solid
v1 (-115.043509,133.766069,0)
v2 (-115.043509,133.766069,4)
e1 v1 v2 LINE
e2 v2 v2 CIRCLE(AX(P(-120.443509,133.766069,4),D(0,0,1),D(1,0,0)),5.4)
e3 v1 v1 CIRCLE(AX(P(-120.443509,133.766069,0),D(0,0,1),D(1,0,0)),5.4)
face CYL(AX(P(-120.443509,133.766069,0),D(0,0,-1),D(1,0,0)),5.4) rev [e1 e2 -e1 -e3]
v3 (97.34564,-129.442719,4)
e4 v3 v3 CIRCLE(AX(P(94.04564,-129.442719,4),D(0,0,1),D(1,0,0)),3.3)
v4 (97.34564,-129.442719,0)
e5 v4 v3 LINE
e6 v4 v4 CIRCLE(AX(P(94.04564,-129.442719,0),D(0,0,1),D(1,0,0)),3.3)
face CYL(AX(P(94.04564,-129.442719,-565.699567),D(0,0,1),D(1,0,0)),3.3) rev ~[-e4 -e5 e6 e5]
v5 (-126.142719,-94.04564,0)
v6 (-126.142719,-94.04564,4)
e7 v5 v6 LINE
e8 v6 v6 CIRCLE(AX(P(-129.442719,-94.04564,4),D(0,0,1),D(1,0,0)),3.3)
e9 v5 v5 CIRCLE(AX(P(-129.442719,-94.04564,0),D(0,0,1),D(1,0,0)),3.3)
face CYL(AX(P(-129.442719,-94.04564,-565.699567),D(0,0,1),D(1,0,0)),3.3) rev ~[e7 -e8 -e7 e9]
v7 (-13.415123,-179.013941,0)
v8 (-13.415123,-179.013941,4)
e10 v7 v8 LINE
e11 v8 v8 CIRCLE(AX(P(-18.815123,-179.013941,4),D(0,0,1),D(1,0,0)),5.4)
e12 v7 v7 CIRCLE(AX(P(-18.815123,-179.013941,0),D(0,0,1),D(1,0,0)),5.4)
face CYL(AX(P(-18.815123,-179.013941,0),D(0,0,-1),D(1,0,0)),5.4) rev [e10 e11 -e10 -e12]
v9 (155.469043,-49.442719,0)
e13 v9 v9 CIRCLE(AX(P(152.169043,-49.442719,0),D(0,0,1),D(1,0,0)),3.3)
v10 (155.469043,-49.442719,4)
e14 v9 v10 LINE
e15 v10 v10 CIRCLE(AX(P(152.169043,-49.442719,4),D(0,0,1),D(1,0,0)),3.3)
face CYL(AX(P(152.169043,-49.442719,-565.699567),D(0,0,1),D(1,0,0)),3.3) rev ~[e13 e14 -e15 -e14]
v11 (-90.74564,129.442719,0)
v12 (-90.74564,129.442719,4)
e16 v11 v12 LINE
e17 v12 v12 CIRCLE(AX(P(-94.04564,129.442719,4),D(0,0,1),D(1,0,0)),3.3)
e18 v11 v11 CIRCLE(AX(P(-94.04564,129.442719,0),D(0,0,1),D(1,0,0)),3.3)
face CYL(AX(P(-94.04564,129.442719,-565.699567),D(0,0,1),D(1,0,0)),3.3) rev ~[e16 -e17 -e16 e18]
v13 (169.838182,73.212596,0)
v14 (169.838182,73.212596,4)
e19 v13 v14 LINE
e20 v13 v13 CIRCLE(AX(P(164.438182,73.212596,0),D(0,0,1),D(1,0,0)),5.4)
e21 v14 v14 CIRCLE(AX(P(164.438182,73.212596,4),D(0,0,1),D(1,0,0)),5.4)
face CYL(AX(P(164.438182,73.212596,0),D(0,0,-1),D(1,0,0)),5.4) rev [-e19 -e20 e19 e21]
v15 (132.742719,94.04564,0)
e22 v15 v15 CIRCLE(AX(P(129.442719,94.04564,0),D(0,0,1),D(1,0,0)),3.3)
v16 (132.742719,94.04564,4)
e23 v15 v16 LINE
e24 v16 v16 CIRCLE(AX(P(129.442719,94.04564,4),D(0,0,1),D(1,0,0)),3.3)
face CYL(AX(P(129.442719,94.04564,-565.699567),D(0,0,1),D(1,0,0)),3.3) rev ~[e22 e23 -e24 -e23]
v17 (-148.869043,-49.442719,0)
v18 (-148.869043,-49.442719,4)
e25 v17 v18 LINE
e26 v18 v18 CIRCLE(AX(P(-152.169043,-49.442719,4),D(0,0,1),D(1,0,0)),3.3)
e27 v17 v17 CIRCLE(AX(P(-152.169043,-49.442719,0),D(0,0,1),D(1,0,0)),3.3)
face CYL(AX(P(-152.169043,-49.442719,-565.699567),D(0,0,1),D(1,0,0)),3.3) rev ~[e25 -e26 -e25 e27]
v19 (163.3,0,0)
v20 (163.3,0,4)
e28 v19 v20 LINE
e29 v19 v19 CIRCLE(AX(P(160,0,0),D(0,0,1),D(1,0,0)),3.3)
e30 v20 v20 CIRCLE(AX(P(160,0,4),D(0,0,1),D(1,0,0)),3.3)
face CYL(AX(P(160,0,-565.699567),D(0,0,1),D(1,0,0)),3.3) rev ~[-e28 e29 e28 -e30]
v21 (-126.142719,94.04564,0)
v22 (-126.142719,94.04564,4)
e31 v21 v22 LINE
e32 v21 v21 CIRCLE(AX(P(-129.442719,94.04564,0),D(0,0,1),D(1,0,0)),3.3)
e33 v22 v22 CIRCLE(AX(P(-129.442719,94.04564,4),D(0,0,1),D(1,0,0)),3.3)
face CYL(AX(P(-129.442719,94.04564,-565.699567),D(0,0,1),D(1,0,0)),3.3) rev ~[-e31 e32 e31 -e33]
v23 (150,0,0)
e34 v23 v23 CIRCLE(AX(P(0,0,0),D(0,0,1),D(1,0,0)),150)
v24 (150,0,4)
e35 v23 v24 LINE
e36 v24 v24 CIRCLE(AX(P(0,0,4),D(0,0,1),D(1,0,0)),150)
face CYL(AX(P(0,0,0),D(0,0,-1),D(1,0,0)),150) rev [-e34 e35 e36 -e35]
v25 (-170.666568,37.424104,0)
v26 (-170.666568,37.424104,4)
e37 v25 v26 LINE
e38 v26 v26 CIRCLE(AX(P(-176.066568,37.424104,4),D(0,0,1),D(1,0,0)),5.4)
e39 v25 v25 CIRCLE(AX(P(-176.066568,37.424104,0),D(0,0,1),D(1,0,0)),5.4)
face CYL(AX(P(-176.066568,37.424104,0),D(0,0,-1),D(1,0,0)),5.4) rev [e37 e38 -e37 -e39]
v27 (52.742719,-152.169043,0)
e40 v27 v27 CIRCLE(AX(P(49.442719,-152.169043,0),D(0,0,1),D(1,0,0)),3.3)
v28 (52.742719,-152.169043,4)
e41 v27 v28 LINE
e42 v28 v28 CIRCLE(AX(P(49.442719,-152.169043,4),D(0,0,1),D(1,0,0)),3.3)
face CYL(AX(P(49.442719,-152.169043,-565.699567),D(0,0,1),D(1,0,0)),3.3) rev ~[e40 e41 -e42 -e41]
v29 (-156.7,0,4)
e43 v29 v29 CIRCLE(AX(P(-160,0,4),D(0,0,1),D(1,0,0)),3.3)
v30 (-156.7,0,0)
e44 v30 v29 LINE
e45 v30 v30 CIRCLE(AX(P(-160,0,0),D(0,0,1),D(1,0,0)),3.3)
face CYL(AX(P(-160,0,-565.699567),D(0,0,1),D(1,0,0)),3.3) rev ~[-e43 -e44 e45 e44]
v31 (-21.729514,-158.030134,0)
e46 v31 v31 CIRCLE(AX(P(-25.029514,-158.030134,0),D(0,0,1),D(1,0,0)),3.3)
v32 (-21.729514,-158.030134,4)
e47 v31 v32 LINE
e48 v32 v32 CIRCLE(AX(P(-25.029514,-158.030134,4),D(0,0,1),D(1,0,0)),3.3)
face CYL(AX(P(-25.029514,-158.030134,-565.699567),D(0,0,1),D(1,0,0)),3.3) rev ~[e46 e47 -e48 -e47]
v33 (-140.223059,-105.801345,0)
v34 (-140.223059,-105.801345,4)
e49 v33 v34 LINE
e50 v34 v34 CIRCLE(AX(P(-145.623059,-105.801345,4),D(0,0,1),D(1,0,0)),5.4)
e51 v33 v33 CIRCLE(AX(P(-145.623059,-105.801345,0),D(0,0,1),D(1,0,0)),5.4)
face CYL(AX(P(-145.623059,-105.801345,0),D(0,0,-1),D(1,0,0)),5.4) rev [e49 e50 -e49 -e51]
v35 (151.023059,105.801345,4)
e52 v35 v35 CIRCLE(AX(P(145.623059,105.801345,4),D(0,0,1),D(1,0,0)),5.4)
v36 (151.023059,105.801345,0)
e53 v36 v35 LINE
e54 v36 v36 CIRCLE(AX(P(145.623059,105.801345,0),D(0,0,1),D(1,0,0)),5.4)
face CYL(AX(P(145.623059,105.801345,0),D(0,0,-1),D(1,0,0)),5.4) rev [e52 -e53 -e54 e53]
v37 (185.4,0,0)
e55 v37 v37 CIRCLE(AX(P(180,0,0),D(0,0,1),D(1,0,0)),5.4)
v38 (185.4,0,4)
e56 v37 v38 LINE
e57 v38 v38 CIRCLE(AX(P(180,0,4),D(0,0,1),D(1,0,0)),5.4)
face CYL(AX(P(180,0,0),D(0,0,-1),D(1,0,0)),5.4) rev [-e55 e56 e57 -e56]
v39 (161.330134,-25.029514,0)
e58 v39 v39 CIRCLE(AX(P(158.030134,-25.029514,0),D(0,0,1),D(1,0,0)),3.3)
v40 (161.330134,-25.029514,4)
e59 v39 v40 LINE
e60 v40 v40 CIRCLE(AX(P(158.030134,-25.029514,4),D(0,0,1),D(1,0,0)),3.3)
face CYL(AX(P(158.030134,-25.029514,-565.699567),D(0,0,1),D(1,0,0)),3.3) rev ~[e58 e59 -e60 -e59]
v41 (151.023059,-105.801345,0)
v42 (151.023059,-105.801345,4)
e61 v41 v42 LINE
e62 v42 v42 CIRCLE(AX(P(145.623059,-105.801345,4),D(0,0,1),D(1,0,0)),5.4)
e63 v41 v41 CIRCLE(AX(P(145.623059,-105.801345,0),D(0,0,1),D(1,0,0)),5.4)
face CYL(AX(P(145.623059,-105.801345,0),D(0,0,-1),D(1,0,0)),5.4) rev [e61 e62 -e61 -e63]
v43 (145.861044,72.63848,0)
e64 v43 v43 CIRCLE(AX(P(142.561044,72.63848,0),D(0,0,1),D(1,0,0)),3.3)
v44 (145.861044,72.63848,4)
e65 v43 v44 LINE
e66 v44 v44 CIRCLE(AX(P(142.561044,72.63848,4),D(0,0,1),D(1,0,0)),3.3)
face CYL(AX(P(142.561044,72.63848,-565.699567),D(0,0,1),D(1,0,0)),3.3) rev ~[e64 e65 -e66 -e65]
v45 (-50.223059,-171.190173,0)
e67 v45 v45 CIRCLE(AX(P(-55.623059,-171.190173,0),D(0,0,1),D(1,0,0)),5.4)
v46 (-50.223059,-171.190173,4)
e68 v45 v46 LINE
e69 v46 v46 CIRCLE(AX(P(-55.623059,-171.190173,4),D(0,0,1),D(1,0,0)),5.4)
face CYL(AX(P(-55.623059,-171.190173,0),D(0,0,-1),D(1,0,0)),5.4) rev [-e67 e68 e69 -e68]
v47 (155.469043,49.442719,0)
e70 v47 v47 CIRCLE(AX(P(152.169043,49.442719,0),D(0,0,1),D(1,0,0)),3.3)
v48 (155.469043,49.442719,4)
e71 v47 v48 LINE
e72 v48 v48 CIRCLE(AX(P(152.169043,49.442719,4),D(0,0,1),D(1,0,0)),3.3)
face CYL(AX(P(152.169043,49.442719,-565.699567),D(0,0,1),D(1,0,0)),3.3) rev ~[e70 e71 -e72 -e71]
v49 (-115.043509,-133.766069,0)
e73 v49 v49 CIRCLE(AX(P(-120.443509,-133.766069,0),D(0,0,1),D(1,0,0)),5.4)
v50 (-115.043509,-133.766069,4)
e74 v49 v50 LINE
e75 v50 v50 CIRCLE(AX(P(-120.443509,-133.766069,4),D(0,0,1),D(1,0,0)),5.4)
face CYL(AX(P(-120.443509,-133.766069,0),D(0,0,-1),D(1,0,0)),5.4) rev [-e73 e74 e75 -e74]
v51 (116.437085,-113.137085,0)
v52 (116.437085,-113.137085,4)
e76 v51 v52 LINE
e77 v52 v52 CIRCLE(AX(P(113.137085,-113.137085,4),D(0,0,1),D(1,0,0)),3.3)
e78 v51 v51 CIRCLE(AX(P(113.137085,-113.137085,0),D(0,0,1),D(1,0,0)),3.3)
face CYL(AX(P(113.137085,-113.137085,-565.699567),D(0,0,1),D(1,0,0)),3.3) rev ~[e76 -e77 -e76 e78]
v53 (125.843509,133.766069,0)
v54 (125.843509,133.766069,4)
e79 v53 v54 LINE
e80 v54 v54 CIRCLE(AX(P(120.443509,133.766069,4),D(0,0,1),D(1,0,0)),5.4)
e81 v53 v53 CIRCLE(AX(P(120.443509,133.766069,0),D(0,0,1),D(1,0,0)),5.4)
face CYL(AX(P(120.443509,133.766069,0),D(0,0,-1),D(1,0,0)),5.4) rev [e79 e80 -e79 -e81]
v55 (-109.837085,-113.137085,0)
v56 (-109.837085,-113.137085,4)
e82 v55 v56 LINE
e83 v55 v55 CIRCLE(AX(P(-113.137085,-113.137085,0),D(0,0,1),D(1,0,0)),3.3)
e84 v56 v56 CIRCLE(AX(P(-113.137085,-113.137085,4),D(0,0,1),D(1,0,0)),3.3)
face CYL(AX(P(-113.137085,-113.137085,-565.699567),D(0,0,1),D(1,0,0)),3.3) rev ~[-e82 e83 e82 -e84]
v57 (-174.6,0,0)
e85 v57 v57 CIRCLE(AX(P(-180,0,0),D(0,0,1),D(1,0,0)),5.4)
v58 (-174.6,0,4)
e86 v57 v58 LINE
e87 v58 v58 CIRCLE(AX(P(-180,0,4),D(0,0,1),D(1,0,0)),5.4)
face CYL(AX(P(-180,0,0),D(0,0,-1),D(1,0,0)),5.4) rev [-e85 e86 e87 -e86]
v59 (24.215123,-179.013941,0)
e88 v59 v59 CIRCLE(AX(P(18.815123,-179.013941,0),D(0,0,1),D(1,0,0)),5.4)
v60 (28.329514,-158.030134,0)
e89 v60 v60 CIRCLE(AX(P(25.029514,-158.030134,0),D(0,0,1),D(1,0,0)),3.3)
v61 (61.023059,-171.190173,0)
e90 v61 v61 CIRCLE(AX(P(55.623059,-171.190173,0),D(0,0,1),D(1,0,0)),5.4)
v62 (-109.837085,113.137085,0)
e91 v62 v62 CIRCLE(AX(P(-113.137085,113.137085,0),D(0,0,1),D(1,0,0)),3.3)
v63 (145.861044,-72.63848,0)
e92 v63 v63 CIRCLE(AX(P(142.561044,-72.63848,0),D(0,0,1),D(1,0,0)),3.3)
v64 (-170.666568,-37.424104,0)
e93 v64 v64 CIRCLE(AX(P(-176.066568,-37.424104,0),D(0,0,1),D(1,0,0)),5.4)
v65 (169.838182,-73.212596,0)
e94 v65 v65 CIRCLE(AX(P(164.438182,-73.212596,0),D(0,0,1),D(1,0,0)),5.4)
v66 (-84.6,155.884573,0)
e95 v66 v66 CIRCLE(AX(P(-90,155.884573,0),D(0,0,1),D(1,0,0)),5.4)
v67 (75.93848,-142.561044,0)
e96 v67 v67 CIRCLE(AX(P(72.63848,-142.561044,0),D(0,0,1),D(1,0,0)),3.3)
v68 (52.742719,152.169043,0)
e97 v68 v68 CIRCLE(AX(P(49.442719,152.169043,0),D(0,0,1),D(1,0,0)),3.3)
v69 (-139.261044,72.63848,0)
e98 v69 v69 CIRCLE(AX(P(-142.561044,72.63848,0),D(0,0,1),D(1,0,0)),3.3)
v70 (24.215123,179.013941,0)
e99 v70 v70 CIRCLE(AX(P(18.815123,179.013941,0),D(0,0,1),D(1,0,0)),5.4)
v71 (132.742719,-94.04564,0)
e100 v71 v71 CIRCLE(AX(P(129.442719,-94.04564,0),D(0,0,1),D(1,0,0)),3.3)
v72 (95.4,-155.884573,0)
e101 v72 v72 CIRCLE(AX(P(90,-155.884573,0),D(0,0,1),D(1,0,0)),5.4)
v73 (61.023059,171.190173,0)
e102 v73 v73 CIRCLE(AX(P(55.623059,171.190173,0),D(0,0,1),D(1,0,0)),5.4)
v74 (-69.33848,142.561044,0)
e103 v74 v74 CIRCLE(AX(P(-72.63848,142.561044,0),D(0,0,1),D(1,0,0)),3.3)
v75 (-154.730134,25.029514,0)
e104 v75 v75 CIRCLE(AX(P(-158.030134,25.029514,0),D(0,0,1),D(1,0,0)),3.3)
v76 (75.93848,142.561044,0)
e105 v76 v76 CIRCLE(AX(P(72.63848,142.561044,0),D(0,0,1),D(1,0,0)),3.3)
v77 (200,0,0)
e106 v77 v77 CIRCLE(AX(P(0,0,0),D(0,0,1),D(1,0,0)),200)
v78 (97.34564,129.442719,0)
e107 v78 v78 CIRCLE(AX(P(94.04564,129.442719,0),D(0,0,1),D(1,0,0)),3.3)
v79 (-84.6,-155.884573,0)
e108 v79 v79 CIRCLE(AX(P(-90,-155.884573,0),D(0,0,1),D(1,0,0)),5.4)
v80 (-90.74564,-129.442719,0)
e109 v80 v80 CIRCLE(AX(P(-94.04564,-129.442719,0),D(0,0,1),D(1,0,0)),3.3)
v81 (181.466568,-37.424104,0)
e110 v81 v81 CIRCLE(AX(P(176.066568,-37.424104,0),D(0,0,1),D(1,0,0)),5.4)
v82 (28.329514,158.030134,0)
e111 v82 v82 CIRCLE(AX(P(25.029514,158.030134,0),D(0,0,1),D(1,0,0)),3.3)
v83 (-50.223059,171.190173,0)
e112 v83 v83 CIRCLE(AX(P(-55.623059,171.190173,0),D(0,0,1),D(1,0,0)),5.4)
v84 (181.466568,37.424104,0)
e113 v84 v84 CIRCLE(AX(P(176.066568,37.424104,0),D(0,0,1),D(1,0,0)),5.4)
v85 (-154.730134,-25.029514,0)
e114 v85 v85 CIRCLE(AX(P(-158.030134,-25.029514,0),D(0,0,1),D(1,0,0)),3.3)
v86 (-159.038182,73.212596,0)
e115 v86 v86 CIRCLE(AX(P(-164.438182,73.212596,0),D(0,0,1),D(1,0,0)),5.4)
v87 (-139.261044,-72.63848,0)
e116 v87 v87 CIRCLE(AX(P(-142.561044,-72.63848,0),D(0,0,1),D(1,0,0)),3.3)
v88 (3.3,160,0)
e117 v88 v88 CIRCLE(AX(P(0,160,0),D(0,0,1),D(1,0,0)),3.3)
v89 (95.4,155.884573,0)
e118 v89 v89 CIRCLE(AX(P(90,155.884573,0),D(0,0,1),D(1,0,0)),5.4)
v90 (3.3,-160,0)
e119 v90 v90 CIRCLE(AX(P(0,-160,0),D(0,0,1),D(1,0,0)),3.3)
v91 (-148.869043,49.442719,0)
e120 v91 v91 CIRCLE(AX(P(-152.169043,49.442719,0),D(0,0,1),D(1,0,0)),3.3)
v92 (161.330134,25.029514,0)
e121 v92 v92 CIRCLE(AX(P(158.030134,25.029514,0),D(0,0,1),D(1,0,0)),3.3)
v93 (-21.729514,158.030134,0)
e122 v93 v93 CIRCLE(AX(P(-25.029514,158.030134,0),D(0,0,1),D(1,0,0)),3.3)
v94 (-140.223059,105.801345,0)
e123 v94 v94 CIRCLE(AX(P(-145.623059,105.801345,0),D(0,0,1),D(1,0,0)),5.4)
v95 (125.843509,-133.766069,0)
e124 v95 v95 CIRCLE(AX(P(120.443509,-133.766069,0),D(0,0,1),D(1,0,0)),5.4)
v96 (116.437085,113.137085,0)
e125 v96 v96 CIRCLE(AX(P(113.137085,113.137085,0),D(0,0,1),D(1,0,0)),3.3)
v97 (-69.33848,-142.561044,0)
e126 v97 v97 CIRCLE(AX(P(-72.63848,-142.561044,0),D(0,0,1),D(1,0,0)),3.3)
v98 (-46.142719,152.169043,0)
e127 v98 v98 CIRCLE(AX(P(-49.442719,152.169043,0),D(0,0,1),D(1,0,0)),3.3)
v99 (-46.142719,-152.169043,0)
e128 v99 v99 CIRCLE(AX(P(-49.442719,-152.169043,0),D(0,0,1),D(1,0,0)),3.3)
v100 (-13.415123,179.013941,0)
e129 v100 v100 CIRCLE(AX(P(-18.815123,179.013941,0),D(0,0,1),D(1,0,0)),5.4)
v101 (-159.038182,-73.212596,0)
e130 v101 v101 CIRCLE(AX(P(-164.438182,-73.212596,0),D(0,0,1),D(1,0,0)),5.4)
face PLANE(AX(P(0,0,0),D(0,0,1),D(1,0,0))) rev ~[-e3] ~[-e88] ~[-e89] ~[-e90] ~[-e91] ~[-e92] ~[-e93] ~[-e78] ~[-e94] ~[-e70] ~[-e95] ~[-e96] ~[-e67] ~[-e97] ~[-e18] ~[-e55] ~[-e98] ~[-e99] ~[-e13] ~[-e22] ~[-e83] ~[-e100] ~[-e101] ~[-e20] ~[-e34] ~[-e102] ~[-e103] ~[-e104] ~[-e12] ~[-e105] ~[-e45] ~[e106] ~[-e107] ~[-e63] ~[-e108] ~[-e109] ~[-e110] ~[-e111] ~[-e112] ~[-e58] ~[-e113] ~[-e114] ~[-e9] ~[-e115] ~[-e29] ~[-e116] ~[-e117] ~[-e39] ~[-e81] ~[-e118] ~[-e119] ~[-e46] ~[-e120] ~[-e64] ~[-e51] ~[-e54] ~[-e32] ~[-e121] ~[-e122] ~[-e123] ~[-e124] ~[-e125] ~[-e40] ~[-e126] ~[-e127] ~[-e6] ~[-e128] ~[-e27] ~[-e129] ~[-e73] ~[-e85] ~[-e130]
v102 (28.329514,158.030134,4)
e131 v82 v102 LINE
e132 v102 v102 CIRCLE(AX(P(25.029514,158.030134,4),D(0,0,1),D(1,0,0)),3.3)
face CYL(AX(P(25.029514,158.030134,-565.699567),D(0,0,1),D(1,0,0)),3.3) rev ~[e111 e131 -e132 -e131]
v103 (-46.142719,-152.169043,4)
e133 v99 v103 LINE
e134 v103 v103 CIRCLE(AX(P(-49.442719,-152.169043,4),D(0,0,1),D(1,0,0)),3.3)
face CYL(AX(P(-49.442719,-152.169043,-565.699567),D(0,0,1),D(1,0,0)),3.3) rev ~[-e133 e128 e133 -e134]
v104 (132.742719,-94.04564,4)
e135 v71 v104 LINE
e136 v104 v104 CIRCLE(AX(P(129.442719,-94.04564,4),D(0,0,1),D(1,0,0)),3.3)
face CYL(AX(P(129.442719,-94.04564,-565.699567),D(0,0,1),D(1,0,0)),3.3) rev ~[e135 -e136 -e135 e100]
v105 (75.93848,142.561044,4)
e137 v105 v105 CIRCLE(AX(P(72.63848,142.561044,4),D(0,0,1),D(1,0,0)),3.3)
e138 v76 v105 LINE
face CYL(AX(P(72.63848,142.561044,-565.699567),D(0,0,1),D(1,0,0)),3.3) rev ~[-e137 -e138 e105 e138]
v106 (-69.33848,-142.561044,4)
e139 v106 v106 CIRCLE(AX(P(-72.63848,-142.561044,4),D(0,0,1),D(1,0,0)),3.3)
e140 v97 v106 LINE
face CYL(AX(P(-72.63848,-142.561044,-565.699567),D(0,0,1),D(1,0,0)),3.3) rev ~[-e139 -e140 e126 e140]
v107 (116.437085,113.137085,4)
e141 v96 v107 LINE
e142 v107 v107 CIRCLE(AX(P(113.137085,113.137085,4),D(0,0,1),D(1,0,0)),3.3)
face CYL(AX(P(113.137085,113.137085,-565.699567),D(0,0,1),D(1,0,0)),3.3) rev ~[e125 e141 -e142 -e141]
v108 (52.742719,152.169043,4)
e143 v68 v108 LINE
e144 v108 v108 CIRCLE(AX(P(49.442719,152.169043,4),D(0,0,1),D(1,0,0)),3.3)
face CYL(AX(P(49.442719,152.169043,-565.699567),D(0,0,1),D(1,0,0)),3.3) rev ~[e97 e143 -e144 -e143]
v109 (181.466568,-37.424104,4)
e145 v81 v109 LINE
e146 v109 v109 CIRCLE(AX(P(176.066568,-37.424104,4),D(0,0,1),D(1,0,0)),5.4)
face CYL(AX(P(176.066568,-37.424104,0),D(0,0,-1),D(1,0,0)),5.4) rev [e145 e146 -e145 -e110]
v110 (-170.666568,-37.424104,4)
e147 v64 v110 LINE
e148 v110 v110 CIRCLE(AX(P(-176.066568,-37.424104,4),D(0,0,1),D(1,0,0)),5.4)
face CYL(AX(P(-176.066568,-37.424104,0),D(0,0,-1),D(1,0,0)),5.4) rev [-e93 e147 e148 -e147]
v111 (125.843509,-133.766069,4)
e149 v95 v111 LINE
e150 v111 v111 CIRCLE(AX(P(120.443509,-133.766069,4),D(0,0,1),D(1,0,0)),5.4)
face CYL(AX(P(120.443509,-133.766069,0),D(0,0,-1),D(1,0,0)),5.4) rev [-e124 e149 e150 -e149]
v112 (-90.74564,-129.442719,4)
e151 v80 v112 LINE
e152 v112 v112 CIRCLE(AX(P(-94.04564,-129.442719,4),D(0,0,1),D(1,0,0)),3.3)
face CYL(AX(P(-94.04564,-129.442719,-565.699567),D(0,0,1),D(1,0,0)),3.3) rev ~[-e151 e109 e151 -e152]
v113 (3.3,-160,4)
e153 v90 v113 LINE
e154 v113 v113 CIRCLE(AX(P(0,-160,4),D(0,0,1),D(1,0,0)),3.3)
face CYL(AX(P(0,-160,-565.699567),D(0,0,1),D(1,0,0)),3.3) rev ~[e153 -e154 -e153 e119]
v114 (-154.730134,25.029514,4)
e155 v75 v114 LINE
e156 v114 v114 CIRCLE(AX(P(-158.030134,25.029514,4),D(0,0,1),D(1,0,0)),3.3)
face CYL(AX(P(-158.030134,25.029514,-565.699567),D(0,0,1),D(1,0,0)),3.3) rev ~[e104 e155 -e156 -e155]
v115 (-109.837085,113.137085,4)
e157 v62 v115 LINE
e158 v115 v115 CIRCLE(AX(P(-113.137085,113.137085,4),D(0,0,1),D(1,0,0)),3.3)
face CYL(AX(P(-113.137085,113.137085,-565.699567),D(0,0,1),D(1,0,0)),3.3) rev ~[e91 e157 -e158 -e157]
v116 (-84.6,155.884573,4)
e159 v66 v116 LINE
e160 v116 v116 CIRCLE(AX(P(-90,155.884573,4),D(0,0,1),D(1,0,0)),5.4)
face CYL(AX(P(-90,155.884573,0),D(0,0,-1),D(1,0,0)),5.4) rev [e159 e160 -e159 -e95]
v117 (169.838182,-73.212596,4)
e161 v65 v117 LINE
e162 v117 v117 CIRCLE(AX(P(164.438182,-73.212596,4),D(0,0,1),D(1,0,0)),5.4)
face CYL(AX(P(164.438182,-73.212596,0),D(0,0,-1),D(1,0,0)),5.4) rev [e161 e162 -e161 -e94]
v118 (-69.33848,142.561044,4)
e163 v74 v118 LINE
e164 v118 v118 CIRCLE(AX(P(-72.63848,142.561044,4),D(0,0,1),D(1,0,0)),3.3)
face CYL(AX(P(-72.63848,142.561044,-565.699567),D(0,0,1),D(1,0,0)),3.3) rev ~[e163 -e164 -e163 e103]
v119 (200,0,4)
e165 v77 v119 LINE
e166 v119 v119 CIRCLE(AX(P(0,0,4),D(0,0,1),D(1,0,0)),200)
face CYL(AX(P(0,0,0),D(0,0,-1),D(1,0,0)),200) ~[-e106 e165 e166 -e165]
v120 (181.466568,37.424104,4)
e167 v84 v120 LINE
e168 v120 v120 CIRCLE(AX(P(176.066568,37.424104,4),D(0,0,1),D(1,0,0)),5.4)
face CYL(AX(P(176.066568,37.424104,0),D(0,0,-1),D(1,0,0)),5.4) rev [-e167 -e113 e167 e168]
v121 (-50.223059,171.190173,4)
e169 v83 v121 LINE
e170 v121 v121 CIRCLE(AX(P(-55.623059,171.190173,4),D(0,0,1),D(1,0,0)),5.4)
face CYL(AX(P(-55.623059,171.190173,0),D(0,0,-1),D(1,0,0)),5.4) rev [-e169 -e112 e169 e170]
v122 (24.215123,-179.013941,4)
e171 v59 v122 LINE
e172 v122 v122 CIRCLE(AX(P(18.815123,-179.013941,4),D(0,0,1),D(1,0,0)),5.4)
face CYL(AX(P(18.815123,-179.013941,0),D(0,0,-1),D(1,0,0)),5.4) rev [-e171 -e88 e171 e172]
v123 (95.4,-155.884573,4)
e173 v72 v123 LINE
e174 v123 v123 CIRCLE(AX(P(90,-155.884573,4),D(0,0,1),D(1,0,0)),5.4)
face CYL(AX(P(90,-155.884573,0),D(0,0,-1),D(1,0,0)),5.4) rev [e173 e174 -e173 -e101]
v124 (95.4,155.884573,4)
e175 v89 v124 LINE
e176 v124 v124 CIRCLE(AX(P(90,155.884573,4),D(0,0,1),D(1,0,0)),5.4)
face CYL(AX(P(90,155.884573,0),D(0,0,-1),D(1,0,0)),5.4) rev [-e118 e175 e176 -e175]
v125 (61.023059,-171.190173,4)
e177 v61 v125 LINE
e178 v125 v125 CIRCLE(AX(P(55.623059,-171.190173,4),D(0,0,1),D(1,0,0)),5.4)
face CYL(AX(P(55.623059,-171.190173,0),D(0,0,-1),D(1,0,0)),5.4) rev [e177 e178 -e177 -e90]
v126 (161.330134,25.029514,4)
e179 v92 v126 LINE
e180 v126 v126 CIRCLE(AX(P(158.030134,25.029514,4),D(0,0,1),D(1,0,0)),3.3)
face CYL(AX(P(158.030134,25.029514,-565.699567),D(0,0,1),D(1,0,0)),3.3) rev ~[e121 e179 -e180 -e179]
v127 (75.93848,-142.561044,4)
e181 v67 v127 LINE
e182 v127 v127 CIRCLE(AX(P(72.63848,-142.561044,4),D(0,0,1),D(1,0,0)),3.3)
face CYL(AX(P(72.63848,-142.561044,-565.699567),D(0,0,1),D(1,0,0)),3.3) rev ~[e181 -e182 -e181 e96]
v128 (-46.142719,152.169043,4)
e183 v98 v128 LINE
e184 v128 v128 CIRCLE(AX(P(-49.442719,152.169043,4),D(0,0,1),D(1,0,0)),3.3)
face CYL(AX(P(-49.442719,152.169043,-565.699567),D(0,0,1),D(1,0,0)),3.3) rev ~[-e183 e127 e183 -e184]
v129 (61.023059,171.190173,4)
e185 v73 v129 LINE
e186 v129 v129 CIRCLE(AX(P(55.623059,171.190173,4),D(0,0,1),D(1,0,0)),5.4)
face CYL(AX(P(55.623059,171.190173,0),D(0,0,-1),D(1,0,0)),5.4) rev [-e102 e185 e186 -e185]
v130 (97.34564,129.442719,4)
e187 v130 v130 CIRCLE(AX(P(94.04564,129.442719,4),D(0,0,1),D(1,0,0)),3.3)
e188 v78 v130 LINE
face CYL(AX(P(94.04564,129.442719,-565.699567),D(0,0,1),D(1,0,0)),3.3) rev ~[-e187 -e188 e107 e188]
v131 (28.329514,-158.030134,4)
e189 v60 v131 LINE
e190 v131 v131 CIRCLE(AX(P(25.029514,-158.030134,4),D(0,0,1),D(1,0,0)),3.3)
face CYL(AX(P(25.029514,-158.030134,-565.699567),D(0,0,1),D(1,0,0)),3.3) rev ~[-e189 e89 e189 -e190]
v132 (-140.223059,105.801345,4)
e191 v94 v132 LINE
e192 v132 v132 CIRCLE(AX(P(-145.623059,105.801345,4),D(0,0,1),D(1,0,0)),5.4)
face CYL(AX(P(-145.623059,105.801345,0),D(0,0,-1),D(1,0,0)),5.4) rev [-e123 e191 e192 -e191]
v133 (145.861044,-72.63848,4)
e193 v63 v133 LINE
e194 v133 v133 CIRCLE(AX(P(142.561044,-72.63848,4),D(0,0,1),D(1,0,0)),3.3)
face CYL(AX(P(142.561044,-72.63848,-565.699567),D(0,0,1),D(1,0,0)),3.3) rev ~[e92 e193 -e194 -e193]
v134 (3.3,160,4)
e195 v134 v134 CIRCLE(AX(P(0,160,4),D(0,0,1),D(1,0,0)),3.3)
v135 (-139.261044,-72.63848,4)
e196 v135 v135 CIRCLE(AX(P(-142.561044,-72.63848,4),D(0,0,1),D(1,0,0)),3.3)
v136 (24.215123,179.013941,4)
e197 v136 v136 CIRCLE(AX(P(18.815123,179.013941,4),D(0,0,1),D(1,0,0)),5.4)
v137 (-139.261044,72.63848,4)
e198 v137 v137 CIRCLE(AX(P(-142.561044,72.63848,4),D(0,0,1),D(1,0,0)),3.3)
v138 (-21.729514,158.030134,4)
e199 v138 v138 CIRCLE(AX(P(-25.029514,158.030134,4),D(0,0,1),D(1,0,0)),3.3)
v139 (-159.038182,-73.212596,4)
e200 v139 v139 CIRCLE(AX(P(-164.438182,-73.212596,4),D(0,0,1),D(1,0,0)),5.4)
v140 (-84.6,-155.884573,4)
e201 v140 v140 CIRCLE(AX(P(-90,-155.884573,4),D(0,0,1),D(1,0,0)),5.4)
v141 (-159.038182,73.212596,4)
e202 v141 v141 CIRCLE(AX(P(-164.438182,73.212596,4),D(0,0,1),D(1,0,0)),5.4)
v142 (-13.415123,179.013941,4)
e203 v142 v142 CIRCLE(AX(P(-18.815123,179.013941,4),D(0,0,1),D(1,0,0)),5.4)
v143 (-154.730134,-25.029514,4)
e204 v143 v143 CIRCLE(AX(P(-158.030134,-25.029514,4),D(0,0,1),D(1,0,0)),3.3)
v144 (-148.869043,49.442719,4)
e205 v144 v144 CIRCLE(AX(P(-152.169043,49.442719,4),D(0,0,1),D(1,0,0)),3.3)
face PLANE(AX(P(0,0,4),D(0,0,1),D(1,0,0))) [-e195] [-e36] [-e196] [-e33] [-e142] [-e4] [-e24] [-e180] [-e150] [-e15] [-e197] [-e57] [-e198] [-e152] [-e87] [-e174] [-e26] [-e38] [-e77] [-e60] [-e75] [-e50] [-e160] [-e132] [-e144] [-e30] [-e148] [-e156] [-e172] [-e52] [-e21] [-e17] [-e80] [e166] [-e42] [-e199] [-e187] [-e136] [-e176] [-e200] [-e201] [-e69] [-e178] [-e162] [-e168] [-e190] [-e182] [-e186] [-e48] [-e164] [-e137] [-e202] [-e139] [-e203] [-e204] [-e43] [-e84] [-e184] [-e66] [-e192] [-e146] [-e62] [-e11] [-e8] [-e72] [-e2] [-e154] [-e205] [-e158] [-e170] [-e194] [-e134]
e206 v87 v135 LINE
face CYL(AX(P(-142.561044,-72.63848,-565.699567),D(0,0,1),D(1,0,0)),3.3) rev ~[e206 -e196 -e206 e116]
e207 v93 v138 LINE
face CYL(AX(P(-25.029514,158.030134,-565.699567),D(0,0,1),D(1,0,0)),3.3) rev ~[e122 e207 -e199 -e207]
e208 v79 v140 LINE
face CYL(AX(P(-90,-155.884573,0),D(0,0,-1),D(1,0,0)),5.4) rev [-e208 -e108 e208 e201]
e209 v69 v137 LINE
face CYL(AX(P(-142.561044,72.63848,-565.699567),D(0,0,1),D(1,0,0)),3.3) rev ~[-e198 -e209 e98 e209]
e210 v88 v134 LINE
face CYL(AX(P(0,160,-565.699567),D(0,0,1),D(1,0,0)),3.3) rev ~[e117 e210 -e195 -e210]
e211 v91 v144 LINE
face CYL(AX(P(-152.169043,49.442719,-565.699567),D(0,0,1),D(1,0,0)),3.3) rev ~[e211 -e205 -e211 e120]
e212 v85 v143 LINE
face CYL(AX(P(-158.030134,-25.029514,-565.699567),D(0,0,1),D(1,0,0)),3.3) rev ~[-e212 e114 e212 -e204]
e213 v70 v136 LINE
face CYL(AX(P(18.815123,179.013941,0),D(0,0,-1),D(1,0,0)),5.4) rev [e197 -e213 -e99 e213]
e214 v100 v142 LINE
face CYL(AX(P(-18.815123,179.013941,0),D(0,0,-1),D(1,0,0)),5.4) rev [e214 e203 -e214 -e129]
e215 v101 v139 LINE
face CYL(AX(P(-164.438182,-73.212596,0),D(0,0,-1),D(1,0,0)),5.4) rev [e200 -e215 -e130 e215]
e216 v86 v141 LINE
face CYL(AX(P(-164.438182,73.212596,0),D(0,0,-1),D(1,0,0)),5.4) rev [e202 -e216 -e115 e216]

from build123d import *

# Parameters (mm, degrees)
CROQUIS1_R                   = 200
CROQUIS1_R_2                 = 150
CROQUIS1_R_3                 = 5.4
SALIENTE_EXTRUIR1_DEPTH      = 4
TALADRO_DE_MARGEN_PARA_M61_D = 6.6


with BuildPart() as part:
    # Croquis1 → Saliente-Extruir1 (new body)
    with BuildSketch(Plane.XY):
        Circle(CROQUIS1_R)
        Circle(CROQUIS1_R_2, mode=Mode.SUBTRACT)
        with Locations((145.623058987, 105.801345413)):
            Circle(CROQUIS1_R_3, mode=Mode.SUBTRACT)
        with Locations((164.438182376, 73.212595754)):
            Circle(CROQUIS1_R_3, mode=Mode.SUBTRACT)
        with Locations((176.066568132, 37.424104347)):
            Circle(CROQUIS1_R_3, mode=Mode.SUBTRACT)
        with Locations((180, 0)):
            Circle(CROQUIS1_R_3, mode=Mode.SUBTRACT)
        with Locations((176.066568132, -37.424104347)):
            Circle(CROQUIS1_R_3, mode=Mode.SUBTRACT)
        with Locations((164.438182376, -73.212595754)):
            Circle(CROQUIS1_R_3, mode=Mode.SUBTRACT)
        with Locations((145.623058987, -105.801345413)):
            Circle(CROQUIS1_R_3, mode=Mode.SUBTRACT)
        with Locations((120.443509145, -133.766068586)):
            Circle(CROQUIS1_R_3, mode=Mode.SUBTRACT)
        with Locations((90, -155.884572681)):
            Circle(CROQUIS1_R_3, mode=Mode.SUBTRACT)
        with Locations((55.623058987, -171.190172933)):
            Circle(CROQUIS1_R_3, mode=Mode.SUBTRACT)
        with Locations((18.815123388, -179.013941166)):
            Circle(CROQUIS1_R_3, mode=Mode.SUBTRACT)
        with Locations((-18.815123388, -179.013941166)):
            Circle(CROQUIS1_R_3, mode=Mode.SUBTRACT)
        with Locations((-55.623058987, -171.190172933)):
            Circle(CROQUIS1_R_3, mode=Mode.SUBTRACT)
        with Locations((-90, -155.884572681)):
            Circle(CROQUIS1_R_3, mode=Mode.SUBTRACT)
        with Locations((-120.443509145, -133.766068586)):
            Circle(CROQUIS1_R_3, mode=Mode.SUBTRACT)
        with Locations((-145.623058987, -105.801345413)):
            Circle(CROQUIS1_R_3, mode=Mode.SUBTRACT)
        with Locations((-164.438182376, -73.212595754)):
            Circle(CROQUIS1_R_3, mode=Mode.SUBTRACT)
        with Locations((-176.066568132, -37.424104347)):
            Circle(CROQUIS1_R_3, mode=Mode.SUBTRACT)
        with Locations((-180, 0)):
            Circle(CROQUIS1_R_3, mode=Mode.SUBTRACT)
        with Locations((-176.066568132, 37.424104347)):
            Circle(CROQUIS1_R_3, mode=Mode.SUBTRACT)
        with Locations((-164.438182376, 73.212595754)):
            Circle(CROQUIS1_R_3, mode=Mode.SUBTRACT)
        with Locations((-145.623058987, 105.801345413)):
            Circle(CROQUIS1_R_3, mode=Mode.SUBTRACT)
        with Locations((-120.443509145, 133.766068586)):
            Circle(CROQUIS1_R_3, mode=Mode.SUBTRACT)
        with Locations((-90, 155.884572681)):
            Circle(CROQUIS1_R_3, mode=Mode.SUBTRACT)
        with Locations((-55.623058987, 171.190172933)):
            Circle(CROQUIS1_R_3, mode=Mode.SUBTRACT)
        with Locations((-18.815123388, 179.013941166)):
            Circle(CROQUIS1_R_3, mode=Mode.SUBTRACT)
        with Locations((18.815123388, 179.013941166)):
            Circle(CROQUIS1_R_3, mode=Mode.SUBTRACT)
        with Locations((55.623058987, 171.190172933)):
            Circle(CROQUIS1_R_3, mode=Mode.SUBTRACT)
        with Locations((90, 155.884572681)):
            Circle(CROQUIS1_R_3, mode=Mode.SUBTRACT)
        with Locations((120.443509145, 133.766068586)):
            Circle(CROQUIS1_R_3, mode=Mode.SUBTRACT)
    extrude(amount=SALIENTE_EXTRUIR1_DEPTH)

    # Taladro de margen para M61 (through all)
    with Locations(Plane(origin=(-113.13708499, 113.13708499, 0), x_dir=(-1, 0, 0), z_dir=(0, 0, -1))):
        with Locations((0, 0), (-19.091444623, 16.30563411), (-40.498605032, 29.42395888), (-63.69436589, 39.031957617), (16.30563411, -19.091444623), (29.42395888, -40.498605032), (39.031957617, -63.69436589), (44.893049505, -88.107570584), (46.86291501, -113.13708499), (44.893049505, -138.166599396), (39.031957617, -162.57980409), (29.42395888, -185.775564948), (16.30563411, -207.182725357), (0, -226.27416998), (-19.091444623, -242.57980409), (-40.498605032, -255.69812886), (-63.69436589, -265.306127597), (-88.107570584, -271.167219485), (-113.13708499, -273.13708499), (-138.166599396, -271.167219485), (-162.57980409, -265.306127597), (-185.775564948, -255.69812886), (-207.182725357, -242.57980409), (-226.27416998, -226.27416998), (-242.57980409, -207.182725357), (-255.69812886, -185.775564948), (-265.306127597, -162.57980409), (-271.167219485, -138.166599396), (-273.13708499, -113.13708499), (-271.167219485, -88.107570584), (-265.306127597, -63.69436589), (-255.69812886, -40.498605032), (-242.57980409, -19.091444623), (-226.27416998, 0), (-207.182725357, 16.30563411), (-185.775564948, 29.42395888), (-162.57980409, 39.031957617), (-138.166599396, 44.893049505), (-113.13708499, 46.86291501), (-88.107570584, 44.893049505)):
            Hole(TALADRO_DE_MARGEN_PARA_M61_D / 2)


solid = part.part
